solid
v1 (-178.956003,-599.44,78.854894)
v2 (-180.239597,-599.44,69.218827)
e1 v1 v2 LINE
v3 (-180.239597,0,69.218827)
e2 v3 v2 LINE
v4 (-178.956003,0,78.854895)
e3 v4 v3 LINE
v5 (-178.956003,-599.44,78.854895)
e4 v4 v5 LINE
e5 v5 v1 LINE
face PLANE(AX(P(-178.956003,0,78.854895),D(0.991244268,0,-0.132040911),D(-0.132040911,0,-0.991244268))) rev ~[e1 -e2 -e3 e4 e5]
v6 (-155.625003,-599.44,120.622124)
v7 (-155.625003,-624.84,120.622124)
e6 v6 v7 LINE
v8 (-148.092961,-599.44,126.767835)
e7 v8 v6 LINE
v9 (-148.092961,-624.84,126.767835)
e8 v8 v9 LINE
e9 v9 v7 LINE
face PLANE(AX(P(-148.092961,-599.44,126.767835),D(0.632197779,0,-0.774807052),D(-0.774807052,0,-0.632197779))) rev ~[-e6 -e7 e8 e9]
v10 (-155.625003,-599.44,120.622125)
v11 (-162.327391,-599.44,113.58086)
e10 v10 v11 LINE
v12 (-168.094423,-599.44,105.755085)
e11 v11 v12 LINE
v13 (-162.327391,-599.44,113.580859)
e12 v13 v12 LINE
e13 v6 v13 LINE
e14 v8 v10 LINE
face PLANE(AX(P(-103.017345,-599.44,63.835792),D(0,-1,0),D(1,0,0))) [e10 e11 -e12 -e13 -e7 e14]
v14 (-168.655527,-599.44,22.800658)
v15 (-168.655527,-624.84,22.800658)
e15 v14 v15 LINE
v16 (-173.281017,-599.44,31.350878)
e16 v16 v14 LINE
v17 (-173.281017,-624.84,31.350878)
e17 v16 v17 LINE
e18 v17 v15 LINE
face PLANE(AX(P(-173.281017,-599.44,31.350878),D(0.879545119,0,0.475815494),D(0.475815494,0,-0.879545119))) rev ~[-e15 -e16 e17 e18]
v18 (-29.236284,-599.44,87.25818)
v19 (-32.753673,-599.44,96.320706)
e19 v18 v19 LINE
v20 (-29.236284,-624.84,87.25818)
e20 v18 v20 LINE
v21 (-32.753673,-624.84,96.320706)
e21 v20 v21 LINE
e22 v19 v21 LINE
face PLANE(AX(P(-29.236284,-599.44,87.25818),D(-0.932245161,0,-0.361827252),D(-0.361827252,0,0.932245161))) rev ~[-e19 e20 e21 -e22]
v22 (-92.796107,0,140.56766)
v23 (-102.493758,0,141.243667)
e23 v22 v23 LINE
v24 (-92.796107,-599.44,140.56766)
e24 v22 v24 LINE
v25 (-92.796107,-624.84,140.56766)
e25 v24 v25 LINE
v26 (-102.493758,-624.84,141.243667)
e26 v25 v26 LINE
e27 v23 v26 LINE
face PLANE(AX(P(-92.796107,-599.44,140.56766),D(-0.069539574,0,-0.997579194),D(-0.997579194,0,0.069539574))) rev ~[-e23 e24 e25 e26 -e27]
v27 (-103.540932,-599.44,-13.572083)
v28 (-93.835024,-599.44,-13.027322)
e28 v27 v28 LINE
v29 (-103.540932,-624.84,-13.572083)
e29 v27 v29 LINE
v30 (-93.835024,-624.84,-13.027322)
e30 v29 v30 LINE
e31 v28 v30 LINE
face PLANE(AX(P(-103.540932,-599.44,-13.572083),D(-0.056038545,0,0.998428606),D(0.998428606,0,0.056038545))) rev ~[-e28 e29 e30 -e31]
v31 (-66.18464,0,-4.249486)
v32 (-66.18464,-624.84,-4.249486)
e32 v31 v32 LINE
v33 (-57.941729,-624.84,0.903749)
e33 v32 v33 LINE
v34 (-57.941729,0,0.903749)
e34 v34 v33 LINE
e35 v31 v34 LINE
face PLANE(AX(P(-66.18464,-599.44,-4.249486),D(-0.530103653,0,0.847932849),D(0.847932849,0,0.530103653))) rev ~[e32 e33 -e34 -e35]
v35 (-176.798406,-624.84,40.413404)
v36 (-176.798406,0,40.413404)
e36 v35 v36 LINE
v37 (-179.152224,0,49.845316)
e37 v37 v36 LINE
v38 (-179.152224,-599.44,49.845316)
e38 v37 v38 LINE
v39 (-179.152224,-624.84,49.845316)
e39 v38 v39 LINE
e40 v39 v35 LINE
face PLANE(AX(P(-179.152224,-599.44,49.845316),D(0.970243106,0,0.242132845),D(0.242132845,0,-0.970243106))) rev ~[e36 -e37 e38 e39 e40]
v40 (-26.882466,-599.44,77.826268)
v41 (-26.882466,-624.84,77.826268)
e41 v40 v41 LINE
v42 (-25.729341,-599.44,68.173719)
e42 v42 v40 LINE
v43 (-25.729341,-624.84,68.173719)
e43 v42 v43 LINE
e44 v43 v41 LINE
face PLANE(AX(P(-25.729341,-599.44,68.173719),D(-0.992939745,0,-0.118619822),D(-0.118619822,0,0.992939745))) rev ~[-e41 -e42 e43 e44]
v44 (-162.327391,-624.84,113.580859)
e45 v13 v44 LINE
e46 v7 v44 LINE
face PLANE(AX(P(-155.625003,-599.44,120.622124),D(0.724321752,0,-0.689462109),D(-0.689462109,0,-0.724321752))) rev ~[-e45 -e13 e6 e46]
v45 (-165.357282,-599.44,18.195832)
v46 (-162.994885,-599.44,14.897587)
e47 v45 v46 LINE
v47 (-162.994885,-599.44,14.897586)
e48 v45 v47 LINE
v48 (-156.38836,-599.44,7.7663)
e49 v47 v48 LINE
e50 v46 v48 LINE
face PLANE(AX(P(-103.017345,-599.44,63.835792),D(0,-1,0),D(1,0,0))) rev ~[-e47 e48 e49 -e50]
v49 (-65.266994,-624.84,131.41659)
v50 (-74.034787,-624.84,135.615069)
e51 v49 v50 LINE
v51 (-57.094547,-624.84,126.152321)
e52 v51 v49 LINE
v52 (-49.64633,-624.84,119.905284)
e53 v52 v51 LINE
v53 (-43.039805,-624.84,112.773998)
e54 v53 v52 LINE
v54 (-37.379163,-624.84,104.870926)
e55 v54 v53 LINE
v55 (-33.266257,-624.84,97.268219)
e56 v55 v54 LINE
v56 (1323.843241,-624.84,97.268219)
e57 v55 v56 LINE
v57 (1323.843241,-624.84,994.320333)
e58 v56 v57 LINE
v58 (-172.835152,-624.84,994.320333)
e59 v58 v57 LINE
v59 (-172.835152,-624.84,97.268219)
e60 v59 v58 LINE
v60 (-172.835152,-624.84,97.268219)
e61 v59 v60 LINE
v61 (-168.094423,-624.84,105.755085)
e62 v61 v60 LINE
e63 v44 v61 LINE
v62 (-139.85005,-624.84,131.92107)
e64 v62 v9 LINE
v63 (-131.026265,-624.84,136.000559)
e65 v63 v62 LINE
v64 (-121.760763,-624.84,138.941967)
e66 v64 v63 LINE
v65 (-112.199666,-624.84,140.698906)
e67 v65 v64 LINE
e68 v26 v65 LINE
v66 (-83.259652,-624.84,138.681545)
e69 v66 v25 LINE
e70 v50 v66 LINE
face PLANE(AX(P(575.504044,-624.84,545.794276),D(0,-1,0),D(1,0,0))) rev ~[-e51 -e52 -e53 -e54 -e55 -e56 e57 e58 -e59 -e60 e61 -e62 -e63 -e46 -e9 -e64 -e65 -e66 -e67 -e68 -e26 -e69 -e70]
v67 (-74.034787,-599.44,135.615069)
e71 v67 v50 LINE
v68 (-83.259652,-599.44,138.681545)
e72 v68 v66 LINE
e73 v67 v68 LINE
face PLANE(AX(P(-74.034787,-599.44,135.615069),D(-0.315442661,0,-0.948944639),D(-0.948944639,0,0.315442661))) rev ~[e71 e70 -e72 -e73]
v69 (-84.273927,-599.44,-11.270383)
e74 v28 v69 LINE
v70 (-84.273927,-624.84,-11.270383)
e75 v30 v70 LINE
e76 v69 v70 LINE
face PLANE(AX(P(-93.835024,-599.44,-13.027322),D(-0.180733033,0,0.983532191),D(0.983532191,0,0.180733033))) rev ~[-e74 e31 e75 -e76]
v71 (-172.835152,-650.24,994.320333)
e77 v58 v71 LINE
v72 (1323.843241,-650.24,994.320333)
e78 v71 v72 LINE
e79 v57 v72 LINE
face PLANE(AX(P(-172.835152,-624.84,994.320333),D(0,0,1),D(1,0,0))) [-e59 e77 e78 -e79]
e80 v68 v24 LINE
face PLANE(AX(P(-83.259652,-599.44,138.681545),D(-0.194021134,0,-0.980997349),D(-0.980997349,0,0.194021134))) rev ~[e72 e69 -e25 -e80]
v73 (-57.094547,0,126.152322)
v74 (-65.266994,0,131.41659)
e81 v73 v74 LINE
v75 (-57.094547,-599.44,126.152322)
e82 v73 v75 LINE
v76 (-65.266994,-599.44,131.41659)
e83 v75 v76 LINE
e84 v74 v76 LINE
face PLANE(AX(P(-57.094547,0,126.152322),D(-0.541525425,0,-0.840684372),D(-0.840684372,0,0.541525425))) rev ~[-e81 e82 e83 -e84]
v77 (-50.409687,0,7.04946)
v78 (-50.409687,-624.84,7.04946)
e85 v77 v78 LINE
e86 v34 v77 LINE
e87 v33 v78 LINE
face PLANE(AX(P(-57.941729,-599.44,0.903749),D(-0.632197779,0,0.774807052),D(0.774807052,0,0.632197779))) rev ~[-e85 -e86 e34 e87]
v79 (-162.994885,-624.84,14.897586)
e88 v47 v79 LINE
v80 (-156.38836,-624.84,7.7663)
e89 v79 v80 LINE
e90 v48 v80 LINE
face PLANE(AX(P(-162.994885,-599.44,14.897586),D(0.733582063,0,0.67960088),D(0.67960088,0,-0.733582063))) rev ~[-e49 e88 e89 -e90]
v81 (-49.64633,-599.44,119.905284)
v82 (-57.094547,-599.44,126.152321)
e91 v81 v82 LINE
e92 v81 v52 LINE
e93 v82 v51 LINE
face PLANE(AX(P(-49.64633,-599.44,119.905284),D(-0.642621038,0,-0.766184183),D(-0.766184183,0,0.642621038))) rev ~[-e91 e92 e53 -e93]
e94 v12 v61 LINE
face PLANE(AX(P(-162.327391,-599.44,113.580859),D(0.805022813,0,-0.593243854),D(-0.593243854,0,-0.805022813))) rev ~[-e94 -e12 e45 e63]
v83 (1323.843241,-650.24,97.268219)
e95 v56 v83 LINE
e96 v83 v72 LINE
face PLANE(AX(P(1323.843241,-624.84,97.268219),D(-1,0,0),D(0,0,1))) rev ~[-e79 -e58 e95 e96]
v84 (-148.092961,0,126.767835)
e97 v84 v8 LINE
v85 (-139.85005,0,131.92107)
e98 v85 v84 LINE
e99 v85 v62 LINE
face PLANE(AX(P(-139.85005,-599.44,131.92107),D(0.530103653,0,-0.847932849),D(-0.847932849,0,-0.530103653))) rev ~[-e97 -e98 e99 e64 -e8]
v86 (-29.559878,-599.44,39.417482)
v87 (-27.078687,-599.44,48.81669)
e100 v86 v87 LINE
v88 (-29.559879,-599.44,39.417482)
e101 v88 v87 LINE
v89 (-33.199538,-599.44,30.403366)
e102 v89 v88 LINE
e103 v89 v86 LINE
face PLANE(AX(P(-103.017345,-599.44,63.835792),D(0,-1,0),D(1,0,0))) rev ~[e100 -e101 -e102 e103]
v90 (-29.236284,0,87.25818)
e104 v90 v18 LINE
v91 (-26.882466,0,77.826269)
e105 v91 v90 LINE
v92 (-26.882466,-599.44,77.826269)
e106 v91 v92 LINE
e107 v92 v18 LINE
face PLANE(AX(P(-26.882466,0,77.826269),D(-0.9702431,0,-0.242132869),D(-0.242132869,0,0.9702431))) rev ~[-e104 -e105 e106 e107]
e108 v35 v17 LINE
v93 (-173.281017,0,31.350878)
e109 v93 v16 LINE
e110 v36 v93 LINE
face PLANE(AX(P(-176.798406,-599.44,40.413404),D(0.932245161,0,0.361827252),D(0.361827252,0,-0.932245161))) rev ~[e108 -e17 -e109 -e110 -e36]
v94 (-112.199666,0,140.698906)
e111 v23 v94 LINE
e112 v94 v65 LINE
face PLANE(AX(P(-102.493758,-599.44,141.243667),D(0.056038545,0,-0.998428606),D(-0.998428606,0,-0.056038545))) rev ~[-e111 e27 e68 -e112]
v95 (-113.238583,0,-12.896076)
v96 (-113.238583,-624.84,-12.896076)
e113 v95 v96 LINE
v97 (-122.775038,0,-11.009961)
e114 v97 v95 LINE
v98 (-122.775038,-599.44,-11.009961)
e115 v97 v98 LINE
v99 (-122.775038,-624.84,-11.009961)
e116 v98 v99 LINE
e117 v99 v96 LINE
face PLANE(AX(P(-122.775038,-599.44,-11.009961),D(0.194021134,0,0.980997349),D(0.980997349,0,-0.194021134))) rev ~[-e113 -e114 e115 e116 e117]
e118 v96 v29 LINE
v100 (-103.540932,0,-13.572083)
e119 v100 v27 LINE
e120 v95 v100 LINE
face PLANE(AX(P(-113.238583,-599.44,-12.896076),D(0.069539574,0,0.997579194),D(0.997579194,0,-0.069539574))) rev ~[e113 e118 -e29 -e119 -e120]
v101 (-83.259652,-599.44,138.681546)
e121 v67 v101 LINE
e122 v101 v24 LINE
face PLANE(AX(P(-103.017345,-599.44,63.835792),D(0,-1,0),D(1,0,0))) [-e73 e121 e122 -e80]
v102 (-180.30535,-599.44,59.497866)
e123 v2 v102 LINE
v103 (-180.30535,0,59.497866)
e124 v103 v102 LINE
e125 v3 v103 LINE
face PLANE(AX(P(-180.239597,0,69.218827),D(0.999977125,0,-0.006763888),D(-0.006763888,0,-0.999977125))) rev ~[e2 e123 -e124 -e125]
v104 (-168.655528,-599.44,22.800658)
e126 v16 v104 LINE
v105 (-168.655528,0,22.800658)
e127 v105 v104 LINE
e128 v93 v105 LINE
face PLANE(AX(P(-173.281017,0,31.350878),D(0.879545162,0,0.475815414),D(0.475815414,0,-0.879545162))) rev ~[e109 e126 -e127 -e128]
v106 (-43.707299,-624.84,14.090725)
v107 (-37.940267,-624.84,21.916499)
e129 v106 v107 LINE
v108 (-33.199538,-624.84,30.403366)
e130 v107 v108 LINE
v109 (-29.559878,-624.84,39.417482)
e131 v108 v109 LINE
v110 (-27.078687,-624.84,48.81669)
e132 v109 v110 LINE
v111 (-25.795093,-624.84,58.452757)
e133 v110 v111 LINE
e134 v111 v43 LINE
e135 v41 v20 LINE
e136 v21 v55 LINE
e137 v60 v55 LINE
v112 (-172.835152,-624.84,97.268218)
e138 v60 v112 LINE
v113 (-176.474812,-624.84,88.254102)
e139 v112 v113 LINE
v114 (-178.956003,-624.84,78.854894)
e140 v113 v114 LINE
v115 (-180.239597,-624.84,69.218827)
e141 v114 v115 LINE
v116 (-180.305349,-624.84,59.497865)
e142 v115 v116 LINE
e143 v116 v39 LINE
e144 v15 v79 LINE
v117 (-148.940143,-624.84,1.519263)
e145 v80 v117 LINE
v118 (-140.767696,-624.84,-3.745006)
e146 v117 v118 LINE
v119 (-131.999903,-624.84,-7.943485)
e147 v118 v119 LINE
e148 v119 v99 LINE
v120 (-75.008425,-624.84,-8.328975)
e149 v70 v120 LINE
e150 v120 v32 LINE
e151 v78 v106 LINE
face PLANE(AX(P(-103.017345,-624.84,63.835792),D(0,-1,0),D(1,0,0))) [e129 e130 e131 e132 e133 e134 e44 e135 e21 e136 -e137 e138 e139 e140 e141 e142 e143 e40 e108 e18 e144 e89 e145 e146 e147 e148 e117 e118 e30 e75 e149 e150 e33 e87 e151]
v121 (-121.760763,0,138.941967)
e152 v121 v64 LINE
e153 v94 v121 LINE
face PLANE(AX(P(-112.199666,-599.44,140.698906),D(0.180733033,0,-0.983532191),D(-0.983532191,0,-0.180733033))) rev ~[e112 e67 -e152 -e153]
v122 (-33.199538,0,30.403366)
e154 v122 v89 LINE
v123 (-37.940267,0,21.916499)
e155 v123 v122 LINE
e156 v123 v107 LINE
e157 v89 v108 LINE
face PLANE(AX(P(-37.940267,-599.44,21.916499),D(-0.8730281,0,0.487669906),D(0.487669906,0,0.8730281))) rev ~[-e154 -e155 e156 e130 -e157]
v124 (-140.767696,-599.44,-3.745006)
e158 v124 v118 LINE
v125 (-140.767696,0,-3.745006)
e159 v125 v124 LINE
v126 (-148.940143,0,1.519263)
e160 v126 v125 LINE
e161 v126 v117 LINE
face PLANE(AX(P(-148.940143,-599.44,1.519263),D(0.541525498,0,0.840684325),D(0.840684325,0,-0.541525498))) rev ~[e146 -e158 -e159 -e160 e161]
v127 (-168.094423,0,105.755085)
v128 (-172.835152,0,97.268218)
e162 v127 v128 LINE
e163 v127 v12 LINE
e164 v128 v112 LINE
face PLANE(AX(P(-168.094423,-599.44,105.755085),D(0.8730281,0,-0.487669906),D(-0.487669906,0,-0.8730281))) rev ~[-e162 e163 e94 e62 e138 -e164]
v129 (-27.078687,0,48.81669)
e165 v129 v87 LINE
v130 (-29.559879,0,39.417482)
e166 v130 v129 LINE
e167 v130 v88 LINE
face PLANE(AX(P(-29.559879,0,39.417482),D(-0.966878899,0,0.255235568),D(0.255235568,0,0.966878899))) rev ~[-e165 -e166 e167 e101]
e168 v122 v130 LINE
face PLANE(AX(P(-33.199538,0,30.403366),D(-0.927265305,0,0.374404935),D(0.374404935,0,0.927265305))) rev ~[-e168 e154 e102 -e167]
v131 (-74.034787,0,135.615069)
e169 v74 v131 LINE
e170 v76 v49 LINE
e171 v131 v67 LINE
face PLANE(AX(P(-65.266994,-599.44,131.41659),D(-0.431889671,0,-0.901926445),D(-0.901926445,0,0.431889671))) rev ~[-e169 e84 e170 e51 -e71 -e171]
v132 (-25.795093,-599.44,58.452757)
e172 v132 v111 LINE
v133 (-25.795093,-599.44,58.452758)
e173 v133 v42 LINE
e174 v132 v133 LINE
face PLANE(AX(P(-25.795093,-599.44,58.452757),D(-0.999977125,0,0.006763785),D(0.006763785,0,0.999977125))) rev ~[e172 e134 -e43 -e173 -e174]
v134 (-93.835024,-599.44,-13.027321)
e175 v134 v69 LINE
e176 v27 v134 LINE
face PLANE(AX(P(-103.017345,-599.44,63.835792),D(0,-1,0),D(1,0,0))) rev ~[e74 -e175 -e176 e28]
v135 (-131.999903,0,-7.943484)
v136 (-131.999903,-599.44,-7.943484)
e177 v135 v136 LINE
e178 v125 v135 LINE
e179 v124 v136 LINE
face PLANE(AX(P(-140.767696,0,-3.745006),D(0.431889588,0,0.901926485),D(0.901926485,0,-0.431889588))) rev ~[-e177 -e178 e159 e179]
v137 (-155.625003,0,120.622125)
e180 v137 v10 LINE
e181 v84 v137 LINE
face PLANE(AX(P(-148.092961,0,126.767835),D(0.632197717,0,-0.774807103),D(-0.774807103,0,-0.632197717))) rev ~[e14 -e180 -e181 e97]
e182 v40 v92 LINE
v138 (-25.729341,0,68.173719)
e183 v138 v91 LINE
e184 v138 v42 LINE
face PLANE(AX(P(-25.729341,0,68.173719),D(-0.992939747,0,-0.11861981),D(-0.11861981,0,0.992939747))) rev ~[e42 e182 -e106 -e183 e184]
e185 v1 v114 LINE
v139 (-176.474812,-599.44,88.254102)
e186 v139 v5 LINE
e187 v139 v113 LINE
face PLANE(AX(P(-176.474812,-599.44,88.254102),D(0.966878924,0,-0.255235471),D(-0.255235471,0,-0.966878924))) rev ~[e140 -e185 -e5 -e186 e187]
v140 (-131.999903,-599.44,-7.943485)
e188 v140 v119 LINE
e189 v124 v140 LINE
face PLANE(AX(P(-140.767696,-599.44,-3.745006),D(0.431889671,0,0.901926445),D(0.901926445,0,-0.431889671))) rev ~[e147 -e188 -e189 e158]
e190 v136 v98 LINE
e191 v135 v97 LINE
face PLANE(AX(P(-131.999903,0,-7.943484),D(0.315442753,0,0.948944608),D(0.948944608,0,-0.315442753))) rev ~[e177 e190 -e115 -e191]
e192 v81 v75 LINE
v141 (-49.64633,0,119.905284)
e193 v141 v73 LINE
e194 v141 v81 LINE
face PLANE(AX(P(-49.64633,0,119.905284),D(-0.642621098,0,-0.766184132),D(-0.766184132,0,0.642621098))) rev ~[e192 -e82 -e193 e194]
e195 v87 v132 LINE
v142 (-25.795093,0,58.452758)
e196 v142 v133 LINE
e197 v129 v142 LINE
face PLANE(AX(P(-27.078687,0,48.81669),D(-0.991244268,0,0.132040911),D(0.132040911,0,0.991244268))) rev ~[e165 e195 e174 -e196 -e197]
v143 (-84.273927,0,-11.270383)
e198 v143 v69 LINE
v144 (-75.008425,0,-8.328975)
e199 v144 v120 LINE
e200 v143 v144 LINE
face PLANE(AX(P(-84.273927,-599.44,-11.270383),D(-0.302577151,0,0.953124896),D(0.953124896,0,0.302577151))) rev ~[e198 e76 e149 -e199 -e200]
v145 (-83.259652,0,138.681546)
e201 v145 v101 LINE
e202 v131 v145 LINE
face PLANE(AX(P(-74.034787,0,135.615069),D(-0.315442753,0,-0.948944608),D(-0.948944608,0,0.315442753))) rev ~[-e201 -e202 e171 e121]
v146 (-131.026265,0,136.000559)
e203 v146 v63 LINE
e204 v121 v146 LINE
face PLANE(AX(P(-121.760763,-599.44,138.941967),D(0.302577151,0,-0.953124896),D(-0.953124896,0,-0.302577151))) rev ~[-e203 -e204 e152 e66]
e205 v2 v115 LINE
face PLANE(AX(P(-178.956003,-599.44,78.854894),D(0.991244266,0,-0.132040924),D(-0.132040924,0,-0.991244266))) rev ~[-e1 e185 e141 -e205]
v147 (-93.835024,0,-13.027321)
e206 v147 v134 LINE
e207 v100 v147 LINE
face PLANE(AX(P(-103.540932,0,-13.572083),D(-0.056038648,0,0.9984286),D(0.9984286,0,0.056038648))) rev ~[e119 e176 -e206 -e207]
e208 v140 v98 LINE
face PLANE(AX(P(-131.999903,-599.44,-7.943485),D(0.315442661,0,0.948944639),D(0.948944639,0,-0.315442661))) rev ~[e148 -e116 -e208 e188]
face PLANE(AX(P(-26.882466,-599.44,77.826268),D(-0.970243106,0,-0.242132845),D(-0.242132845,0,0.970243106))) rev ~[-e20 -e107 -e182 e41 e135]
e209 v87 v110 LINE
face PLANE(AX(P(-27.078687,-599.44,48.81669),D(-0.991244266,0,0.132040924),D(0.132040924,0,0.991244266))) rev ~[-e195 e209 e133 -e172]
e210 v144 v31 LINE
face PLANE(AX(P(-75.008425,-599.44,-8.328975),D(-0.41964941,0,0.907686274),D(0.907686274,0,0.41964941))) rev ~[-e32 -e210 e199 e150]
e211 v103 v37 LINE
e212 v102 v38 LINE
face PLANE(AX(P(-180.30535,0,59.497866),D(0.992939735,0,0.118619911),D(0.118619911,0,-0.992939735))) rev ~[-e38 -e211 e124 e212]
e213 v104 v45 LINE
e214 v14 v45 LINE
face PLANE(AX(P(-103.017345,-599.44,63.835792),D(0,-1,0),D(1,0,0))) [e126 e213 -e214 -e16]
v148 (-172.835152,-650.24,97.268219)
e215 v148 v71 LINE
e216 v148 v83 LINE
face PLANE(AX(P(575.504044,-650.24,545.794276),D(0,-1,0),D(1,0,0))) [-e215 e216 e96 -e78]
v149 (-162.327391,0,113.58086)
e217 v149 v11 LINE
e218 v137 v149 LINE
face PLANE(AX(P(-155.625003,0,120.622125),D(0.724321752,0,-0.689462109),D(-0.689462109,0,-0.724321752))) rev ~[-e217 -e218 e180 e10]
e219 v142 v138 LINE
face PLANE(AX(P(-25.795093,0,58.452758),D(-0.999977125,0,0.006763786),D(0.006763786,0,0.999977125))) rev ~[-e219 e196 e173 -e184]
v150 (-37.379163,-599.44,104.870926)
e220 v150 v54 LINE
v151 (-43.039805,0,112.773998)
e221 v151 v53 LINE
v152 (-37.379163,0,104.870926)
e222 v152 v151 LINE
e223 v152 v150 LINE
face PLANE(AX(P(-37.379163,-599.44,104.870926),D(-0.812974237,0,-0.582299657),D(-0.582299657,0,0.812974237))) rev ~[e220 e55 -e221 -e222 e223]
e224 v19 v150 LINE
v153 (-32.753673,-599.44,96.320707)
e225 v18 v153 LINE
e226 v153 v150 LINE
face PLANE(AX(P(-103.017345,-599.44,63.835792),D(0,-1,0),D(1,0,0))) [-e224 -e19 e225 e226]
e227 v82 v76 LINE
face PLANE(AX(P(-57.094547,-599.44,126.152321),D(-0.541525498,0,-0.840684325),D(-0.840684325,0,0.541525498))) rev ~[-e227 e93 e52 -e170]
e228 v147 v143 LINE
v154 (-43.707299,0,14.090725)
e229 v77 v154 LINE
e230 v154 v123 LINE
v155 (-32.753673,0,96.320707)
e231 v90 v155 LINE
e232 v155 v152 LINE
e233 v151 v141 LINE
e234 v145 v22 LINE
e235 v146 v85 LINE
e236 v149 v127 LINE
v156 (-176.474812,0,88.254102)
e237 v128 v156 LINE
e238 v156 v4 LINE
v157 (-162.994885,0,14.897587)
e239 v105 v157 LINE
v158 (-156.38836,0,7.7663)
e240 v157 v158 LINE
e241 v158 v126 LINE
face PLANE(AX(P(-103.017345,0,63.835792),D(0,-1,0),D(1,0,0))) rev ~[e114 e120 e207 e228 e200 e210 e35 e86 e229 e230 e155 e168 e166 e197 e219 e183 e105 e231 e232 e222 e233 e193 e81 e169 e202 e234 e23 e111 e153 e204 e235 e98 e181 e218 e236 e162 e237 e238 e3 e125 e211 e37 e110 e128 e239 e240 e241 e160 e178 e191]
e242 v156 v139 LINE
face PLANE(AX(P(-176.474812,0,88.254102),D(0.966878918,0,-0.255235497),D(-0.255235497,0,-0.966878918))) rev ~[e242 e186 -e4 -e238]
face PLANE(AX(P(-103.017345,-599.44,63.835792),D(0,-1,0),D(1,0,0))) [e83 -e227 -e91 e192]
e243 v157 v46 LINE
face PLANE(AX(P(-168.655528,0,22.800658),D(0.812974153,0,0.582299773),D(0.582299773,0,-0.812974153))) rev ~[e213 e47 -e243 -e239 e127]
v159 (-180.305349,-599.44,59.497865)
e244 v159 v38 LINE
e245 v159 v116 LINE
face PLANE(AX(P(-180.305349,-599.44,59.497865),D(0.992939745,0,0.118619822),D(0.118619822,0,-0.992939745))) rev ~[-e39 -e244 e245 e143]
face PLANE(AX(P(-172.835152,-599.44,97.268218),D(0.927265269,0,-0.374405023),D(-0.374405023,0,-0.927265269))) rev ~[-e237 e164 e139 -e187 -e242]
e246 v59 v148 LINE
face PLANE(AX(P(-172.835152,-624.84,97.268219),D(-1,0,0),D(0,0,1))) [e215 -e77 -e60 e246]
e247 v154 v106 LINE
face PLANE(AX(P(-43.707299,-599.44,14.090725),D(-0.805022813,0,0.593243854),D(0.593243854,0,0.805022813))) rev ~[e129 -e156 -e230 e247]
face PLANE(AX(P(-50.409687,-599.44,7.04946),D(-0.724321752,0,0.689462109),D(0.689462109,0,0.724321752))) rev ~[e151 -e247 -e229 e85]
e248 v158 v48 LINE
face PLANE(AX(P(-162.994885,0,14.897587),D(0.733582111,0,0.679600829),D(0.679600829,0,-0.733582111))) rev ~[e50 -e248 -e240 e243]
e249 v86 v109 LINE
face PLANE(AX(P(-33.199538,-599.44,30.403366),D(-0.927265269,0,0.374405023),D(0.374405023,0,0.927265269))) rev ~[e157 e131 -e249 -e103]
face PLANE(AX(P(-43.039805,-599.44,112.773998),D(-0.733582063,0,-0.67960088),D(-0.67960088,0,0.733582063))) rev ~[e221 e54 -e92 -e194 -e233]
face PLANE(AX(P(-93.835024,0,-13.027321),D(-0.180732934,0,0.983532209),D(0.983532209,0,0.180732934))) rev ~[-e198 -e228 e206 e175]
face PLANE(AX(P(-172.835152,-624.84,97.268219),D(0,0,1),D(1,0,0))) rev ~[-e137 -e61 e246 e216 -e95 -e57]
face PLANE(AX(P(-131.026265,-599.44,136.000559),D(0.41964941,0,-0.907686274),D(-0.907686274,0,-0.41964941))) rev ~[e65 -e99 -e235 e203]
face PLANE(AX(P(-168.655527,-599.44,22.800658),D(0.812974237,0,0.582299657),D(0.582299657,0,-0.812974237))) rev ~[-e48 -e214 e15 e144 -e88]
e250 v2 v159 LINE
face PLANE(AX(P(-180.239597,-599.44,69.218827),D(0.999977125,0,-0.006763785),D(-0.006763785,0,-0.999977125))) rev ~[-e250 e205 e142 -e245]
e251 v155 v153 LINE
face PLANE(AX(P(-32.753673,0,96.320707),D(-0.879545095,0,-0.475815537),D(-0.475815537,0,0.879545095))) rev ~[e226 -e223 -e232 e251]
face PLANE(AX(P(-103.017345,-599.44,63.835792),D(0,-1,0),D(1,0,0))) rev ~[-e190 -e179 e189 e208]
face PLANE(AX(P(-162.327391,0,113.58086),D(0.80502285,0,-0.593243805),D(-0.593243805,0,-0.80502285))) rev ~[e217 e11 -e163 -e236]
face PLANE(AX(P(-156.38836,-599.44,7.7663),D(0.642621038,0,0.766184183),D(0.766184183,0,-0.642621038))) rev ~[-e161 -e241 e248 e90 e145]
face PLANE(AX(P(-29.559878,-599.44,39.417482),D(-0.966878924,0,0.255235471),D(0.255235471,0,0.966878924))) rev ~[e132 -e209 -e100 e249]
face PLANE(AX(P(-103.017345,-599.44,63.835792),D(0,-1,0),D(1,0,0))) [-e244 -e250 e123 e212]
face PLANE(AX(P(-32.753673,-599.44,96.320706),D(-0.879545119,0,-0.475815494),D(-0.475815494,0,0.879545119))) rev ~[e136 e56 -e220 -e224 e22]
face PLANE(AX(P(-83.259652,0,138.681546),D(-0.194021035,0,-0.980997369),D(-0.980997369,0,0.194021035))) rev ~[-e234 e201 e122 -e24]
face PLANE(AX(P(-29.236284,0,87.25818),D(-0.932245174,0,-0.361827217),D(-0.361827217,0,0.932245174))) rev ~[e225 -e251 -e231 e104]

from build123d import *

# Parameters (mm, degrees)
F1_DEPTH = 599.44
F2_DEPTH = 25.4
F3_W     = 1496.678393
F3_H     = 897.052115
F4_DEPTH = 25.4


with BuildPart() as f1:
    # F0 (on Front) → F1 (new body)
    with BuildSketch(Plane.XZ):
        Polygon((-37.940267, 21.916499), (-33.199538, 30.403366), (-29.559879, 39.417482), (-27.078687, 48.81669), (-25.795093, 58.452758), (-25.729341, 68.173719), (-26.882466, 77.826269), (-29.236284, 87.25818), (-32.753673, 96.320707), (-37.379163, 104.870926), (-43.039805, 112.773998), (-49.64633, 119.905284), (-57.094547, 126.152322), (-65.266994, 131.41659), (-74.034787, 135.615069), (-83.259652, 138.681546), (-92.796107, 140.56766), (-102.493758, 141.243667), (-112.199666, 140.698906), (-121.760763, 138.941967), (-131.026265, 136.000559), (-139.85005, 131.92107), (-148.092961, 126.767835), (-155.625003, 120.622125), (-162.327391, 113.58086), (-168.094423, 105.755085), (-172.835152, 97.268218), (-176.474812, 88.254102), (-178.956003, 78.854895), (-180.239597, 69.218827), (-180.30535, 59.497866), (-179.152224, 49.845316), (-176.798406, 40.413404), (-173.281017, 31.350878), (-168.655528, 22.800658), (-162.994885, 14.897587), (-156.38836, 7.7663), (-148.940143, 1.519263), (-140.767696, -3.745006), (-131.999903, -7.943484), (-122.775038, -11.009961), (-113.238583, -12.896076), (-103.540932, -13.572083), (-93.835024, -13.027321), (-84.273927, -11.270383), (-75.008425, -8.328975), (-66.18464, -4.249486), (-57.941729, 0.903749), (-50.409687, 7.04946), (-43.707299, 14.090725), align=None)
    extrude(amount=F1_DEPTH)

    # F1_face (on face) → F2 (join)
    with BuildSketch(Plane(origin=(-103.017345, -599.44, 63.835792), x_dir=(1, 0, 0), z_dir=(0, -1, 0))):
        Polygon((-73.781061, -23.422388), (-70.263672, -32.484914), (-65.638182, -41.035134), (-59.97754, -48.938206), (-53.371015, -56.069492), (-45.922798, -62.316529), (-37.750351, -67.580798), (-28.982558, -71.779277), (-19.757693, -74.845753), (-10.221238, -76.731868), (-0.523587, -77.407875), (9.182321, -76.863114), (18.743418, -75.106175), (28.00892, -72.164767), (36.832705, -68.085278), (45.075616, -62.932043), (52.607658, -56.786332), (59.310046, -49.745067), (65.077078, -41.919293), (69.817807, -33.432426), (73.457467, -24.41831), (75.938658, -15.019102), (77.222252, -5.383035), (77.288004, 4.337927), (76.134879, 13.990476), (73.781061, 23.422388), (70.263672, 32.484914), (65.638182, 41.035134), (59.97754, 48.938206), (53.371015, 56.069492), (45.922798, 62.316529), (37.750351, 67.580798), (28.982558, 71.779277), (19.757693, 74.845753), (10.221238, 76.731868), (0.523587, 77.407875), (-9.182321, 76.863114), (-18.743418, 75.106175), (-28.00892, 72.164767), (-36.832705, 68.085278), (-45.075616, 62.932043), (-52.607658, 56.786332), (-59.310046, 49.745067), (-65.077078, 41.919293), (-69.817807, 33.432426), (-73.457467, 24.41831), (-75.938658, 15.019102), (-77.222252, 5.383035), (-77.288004, -4.337927), (-76.134879, -13.990476), align=None)
    extrude(amount=F2_DEPTH)

    # F3 (on face) → F4 (join)
    with BuildSketch(Plane.XZ.offset(624.84)):
        with Locations((575.504044, 545.794276)):
            Rectangle(F3_W, F3_H)
    extrude(amount=F4_DEPTH)


solid = f1.part
